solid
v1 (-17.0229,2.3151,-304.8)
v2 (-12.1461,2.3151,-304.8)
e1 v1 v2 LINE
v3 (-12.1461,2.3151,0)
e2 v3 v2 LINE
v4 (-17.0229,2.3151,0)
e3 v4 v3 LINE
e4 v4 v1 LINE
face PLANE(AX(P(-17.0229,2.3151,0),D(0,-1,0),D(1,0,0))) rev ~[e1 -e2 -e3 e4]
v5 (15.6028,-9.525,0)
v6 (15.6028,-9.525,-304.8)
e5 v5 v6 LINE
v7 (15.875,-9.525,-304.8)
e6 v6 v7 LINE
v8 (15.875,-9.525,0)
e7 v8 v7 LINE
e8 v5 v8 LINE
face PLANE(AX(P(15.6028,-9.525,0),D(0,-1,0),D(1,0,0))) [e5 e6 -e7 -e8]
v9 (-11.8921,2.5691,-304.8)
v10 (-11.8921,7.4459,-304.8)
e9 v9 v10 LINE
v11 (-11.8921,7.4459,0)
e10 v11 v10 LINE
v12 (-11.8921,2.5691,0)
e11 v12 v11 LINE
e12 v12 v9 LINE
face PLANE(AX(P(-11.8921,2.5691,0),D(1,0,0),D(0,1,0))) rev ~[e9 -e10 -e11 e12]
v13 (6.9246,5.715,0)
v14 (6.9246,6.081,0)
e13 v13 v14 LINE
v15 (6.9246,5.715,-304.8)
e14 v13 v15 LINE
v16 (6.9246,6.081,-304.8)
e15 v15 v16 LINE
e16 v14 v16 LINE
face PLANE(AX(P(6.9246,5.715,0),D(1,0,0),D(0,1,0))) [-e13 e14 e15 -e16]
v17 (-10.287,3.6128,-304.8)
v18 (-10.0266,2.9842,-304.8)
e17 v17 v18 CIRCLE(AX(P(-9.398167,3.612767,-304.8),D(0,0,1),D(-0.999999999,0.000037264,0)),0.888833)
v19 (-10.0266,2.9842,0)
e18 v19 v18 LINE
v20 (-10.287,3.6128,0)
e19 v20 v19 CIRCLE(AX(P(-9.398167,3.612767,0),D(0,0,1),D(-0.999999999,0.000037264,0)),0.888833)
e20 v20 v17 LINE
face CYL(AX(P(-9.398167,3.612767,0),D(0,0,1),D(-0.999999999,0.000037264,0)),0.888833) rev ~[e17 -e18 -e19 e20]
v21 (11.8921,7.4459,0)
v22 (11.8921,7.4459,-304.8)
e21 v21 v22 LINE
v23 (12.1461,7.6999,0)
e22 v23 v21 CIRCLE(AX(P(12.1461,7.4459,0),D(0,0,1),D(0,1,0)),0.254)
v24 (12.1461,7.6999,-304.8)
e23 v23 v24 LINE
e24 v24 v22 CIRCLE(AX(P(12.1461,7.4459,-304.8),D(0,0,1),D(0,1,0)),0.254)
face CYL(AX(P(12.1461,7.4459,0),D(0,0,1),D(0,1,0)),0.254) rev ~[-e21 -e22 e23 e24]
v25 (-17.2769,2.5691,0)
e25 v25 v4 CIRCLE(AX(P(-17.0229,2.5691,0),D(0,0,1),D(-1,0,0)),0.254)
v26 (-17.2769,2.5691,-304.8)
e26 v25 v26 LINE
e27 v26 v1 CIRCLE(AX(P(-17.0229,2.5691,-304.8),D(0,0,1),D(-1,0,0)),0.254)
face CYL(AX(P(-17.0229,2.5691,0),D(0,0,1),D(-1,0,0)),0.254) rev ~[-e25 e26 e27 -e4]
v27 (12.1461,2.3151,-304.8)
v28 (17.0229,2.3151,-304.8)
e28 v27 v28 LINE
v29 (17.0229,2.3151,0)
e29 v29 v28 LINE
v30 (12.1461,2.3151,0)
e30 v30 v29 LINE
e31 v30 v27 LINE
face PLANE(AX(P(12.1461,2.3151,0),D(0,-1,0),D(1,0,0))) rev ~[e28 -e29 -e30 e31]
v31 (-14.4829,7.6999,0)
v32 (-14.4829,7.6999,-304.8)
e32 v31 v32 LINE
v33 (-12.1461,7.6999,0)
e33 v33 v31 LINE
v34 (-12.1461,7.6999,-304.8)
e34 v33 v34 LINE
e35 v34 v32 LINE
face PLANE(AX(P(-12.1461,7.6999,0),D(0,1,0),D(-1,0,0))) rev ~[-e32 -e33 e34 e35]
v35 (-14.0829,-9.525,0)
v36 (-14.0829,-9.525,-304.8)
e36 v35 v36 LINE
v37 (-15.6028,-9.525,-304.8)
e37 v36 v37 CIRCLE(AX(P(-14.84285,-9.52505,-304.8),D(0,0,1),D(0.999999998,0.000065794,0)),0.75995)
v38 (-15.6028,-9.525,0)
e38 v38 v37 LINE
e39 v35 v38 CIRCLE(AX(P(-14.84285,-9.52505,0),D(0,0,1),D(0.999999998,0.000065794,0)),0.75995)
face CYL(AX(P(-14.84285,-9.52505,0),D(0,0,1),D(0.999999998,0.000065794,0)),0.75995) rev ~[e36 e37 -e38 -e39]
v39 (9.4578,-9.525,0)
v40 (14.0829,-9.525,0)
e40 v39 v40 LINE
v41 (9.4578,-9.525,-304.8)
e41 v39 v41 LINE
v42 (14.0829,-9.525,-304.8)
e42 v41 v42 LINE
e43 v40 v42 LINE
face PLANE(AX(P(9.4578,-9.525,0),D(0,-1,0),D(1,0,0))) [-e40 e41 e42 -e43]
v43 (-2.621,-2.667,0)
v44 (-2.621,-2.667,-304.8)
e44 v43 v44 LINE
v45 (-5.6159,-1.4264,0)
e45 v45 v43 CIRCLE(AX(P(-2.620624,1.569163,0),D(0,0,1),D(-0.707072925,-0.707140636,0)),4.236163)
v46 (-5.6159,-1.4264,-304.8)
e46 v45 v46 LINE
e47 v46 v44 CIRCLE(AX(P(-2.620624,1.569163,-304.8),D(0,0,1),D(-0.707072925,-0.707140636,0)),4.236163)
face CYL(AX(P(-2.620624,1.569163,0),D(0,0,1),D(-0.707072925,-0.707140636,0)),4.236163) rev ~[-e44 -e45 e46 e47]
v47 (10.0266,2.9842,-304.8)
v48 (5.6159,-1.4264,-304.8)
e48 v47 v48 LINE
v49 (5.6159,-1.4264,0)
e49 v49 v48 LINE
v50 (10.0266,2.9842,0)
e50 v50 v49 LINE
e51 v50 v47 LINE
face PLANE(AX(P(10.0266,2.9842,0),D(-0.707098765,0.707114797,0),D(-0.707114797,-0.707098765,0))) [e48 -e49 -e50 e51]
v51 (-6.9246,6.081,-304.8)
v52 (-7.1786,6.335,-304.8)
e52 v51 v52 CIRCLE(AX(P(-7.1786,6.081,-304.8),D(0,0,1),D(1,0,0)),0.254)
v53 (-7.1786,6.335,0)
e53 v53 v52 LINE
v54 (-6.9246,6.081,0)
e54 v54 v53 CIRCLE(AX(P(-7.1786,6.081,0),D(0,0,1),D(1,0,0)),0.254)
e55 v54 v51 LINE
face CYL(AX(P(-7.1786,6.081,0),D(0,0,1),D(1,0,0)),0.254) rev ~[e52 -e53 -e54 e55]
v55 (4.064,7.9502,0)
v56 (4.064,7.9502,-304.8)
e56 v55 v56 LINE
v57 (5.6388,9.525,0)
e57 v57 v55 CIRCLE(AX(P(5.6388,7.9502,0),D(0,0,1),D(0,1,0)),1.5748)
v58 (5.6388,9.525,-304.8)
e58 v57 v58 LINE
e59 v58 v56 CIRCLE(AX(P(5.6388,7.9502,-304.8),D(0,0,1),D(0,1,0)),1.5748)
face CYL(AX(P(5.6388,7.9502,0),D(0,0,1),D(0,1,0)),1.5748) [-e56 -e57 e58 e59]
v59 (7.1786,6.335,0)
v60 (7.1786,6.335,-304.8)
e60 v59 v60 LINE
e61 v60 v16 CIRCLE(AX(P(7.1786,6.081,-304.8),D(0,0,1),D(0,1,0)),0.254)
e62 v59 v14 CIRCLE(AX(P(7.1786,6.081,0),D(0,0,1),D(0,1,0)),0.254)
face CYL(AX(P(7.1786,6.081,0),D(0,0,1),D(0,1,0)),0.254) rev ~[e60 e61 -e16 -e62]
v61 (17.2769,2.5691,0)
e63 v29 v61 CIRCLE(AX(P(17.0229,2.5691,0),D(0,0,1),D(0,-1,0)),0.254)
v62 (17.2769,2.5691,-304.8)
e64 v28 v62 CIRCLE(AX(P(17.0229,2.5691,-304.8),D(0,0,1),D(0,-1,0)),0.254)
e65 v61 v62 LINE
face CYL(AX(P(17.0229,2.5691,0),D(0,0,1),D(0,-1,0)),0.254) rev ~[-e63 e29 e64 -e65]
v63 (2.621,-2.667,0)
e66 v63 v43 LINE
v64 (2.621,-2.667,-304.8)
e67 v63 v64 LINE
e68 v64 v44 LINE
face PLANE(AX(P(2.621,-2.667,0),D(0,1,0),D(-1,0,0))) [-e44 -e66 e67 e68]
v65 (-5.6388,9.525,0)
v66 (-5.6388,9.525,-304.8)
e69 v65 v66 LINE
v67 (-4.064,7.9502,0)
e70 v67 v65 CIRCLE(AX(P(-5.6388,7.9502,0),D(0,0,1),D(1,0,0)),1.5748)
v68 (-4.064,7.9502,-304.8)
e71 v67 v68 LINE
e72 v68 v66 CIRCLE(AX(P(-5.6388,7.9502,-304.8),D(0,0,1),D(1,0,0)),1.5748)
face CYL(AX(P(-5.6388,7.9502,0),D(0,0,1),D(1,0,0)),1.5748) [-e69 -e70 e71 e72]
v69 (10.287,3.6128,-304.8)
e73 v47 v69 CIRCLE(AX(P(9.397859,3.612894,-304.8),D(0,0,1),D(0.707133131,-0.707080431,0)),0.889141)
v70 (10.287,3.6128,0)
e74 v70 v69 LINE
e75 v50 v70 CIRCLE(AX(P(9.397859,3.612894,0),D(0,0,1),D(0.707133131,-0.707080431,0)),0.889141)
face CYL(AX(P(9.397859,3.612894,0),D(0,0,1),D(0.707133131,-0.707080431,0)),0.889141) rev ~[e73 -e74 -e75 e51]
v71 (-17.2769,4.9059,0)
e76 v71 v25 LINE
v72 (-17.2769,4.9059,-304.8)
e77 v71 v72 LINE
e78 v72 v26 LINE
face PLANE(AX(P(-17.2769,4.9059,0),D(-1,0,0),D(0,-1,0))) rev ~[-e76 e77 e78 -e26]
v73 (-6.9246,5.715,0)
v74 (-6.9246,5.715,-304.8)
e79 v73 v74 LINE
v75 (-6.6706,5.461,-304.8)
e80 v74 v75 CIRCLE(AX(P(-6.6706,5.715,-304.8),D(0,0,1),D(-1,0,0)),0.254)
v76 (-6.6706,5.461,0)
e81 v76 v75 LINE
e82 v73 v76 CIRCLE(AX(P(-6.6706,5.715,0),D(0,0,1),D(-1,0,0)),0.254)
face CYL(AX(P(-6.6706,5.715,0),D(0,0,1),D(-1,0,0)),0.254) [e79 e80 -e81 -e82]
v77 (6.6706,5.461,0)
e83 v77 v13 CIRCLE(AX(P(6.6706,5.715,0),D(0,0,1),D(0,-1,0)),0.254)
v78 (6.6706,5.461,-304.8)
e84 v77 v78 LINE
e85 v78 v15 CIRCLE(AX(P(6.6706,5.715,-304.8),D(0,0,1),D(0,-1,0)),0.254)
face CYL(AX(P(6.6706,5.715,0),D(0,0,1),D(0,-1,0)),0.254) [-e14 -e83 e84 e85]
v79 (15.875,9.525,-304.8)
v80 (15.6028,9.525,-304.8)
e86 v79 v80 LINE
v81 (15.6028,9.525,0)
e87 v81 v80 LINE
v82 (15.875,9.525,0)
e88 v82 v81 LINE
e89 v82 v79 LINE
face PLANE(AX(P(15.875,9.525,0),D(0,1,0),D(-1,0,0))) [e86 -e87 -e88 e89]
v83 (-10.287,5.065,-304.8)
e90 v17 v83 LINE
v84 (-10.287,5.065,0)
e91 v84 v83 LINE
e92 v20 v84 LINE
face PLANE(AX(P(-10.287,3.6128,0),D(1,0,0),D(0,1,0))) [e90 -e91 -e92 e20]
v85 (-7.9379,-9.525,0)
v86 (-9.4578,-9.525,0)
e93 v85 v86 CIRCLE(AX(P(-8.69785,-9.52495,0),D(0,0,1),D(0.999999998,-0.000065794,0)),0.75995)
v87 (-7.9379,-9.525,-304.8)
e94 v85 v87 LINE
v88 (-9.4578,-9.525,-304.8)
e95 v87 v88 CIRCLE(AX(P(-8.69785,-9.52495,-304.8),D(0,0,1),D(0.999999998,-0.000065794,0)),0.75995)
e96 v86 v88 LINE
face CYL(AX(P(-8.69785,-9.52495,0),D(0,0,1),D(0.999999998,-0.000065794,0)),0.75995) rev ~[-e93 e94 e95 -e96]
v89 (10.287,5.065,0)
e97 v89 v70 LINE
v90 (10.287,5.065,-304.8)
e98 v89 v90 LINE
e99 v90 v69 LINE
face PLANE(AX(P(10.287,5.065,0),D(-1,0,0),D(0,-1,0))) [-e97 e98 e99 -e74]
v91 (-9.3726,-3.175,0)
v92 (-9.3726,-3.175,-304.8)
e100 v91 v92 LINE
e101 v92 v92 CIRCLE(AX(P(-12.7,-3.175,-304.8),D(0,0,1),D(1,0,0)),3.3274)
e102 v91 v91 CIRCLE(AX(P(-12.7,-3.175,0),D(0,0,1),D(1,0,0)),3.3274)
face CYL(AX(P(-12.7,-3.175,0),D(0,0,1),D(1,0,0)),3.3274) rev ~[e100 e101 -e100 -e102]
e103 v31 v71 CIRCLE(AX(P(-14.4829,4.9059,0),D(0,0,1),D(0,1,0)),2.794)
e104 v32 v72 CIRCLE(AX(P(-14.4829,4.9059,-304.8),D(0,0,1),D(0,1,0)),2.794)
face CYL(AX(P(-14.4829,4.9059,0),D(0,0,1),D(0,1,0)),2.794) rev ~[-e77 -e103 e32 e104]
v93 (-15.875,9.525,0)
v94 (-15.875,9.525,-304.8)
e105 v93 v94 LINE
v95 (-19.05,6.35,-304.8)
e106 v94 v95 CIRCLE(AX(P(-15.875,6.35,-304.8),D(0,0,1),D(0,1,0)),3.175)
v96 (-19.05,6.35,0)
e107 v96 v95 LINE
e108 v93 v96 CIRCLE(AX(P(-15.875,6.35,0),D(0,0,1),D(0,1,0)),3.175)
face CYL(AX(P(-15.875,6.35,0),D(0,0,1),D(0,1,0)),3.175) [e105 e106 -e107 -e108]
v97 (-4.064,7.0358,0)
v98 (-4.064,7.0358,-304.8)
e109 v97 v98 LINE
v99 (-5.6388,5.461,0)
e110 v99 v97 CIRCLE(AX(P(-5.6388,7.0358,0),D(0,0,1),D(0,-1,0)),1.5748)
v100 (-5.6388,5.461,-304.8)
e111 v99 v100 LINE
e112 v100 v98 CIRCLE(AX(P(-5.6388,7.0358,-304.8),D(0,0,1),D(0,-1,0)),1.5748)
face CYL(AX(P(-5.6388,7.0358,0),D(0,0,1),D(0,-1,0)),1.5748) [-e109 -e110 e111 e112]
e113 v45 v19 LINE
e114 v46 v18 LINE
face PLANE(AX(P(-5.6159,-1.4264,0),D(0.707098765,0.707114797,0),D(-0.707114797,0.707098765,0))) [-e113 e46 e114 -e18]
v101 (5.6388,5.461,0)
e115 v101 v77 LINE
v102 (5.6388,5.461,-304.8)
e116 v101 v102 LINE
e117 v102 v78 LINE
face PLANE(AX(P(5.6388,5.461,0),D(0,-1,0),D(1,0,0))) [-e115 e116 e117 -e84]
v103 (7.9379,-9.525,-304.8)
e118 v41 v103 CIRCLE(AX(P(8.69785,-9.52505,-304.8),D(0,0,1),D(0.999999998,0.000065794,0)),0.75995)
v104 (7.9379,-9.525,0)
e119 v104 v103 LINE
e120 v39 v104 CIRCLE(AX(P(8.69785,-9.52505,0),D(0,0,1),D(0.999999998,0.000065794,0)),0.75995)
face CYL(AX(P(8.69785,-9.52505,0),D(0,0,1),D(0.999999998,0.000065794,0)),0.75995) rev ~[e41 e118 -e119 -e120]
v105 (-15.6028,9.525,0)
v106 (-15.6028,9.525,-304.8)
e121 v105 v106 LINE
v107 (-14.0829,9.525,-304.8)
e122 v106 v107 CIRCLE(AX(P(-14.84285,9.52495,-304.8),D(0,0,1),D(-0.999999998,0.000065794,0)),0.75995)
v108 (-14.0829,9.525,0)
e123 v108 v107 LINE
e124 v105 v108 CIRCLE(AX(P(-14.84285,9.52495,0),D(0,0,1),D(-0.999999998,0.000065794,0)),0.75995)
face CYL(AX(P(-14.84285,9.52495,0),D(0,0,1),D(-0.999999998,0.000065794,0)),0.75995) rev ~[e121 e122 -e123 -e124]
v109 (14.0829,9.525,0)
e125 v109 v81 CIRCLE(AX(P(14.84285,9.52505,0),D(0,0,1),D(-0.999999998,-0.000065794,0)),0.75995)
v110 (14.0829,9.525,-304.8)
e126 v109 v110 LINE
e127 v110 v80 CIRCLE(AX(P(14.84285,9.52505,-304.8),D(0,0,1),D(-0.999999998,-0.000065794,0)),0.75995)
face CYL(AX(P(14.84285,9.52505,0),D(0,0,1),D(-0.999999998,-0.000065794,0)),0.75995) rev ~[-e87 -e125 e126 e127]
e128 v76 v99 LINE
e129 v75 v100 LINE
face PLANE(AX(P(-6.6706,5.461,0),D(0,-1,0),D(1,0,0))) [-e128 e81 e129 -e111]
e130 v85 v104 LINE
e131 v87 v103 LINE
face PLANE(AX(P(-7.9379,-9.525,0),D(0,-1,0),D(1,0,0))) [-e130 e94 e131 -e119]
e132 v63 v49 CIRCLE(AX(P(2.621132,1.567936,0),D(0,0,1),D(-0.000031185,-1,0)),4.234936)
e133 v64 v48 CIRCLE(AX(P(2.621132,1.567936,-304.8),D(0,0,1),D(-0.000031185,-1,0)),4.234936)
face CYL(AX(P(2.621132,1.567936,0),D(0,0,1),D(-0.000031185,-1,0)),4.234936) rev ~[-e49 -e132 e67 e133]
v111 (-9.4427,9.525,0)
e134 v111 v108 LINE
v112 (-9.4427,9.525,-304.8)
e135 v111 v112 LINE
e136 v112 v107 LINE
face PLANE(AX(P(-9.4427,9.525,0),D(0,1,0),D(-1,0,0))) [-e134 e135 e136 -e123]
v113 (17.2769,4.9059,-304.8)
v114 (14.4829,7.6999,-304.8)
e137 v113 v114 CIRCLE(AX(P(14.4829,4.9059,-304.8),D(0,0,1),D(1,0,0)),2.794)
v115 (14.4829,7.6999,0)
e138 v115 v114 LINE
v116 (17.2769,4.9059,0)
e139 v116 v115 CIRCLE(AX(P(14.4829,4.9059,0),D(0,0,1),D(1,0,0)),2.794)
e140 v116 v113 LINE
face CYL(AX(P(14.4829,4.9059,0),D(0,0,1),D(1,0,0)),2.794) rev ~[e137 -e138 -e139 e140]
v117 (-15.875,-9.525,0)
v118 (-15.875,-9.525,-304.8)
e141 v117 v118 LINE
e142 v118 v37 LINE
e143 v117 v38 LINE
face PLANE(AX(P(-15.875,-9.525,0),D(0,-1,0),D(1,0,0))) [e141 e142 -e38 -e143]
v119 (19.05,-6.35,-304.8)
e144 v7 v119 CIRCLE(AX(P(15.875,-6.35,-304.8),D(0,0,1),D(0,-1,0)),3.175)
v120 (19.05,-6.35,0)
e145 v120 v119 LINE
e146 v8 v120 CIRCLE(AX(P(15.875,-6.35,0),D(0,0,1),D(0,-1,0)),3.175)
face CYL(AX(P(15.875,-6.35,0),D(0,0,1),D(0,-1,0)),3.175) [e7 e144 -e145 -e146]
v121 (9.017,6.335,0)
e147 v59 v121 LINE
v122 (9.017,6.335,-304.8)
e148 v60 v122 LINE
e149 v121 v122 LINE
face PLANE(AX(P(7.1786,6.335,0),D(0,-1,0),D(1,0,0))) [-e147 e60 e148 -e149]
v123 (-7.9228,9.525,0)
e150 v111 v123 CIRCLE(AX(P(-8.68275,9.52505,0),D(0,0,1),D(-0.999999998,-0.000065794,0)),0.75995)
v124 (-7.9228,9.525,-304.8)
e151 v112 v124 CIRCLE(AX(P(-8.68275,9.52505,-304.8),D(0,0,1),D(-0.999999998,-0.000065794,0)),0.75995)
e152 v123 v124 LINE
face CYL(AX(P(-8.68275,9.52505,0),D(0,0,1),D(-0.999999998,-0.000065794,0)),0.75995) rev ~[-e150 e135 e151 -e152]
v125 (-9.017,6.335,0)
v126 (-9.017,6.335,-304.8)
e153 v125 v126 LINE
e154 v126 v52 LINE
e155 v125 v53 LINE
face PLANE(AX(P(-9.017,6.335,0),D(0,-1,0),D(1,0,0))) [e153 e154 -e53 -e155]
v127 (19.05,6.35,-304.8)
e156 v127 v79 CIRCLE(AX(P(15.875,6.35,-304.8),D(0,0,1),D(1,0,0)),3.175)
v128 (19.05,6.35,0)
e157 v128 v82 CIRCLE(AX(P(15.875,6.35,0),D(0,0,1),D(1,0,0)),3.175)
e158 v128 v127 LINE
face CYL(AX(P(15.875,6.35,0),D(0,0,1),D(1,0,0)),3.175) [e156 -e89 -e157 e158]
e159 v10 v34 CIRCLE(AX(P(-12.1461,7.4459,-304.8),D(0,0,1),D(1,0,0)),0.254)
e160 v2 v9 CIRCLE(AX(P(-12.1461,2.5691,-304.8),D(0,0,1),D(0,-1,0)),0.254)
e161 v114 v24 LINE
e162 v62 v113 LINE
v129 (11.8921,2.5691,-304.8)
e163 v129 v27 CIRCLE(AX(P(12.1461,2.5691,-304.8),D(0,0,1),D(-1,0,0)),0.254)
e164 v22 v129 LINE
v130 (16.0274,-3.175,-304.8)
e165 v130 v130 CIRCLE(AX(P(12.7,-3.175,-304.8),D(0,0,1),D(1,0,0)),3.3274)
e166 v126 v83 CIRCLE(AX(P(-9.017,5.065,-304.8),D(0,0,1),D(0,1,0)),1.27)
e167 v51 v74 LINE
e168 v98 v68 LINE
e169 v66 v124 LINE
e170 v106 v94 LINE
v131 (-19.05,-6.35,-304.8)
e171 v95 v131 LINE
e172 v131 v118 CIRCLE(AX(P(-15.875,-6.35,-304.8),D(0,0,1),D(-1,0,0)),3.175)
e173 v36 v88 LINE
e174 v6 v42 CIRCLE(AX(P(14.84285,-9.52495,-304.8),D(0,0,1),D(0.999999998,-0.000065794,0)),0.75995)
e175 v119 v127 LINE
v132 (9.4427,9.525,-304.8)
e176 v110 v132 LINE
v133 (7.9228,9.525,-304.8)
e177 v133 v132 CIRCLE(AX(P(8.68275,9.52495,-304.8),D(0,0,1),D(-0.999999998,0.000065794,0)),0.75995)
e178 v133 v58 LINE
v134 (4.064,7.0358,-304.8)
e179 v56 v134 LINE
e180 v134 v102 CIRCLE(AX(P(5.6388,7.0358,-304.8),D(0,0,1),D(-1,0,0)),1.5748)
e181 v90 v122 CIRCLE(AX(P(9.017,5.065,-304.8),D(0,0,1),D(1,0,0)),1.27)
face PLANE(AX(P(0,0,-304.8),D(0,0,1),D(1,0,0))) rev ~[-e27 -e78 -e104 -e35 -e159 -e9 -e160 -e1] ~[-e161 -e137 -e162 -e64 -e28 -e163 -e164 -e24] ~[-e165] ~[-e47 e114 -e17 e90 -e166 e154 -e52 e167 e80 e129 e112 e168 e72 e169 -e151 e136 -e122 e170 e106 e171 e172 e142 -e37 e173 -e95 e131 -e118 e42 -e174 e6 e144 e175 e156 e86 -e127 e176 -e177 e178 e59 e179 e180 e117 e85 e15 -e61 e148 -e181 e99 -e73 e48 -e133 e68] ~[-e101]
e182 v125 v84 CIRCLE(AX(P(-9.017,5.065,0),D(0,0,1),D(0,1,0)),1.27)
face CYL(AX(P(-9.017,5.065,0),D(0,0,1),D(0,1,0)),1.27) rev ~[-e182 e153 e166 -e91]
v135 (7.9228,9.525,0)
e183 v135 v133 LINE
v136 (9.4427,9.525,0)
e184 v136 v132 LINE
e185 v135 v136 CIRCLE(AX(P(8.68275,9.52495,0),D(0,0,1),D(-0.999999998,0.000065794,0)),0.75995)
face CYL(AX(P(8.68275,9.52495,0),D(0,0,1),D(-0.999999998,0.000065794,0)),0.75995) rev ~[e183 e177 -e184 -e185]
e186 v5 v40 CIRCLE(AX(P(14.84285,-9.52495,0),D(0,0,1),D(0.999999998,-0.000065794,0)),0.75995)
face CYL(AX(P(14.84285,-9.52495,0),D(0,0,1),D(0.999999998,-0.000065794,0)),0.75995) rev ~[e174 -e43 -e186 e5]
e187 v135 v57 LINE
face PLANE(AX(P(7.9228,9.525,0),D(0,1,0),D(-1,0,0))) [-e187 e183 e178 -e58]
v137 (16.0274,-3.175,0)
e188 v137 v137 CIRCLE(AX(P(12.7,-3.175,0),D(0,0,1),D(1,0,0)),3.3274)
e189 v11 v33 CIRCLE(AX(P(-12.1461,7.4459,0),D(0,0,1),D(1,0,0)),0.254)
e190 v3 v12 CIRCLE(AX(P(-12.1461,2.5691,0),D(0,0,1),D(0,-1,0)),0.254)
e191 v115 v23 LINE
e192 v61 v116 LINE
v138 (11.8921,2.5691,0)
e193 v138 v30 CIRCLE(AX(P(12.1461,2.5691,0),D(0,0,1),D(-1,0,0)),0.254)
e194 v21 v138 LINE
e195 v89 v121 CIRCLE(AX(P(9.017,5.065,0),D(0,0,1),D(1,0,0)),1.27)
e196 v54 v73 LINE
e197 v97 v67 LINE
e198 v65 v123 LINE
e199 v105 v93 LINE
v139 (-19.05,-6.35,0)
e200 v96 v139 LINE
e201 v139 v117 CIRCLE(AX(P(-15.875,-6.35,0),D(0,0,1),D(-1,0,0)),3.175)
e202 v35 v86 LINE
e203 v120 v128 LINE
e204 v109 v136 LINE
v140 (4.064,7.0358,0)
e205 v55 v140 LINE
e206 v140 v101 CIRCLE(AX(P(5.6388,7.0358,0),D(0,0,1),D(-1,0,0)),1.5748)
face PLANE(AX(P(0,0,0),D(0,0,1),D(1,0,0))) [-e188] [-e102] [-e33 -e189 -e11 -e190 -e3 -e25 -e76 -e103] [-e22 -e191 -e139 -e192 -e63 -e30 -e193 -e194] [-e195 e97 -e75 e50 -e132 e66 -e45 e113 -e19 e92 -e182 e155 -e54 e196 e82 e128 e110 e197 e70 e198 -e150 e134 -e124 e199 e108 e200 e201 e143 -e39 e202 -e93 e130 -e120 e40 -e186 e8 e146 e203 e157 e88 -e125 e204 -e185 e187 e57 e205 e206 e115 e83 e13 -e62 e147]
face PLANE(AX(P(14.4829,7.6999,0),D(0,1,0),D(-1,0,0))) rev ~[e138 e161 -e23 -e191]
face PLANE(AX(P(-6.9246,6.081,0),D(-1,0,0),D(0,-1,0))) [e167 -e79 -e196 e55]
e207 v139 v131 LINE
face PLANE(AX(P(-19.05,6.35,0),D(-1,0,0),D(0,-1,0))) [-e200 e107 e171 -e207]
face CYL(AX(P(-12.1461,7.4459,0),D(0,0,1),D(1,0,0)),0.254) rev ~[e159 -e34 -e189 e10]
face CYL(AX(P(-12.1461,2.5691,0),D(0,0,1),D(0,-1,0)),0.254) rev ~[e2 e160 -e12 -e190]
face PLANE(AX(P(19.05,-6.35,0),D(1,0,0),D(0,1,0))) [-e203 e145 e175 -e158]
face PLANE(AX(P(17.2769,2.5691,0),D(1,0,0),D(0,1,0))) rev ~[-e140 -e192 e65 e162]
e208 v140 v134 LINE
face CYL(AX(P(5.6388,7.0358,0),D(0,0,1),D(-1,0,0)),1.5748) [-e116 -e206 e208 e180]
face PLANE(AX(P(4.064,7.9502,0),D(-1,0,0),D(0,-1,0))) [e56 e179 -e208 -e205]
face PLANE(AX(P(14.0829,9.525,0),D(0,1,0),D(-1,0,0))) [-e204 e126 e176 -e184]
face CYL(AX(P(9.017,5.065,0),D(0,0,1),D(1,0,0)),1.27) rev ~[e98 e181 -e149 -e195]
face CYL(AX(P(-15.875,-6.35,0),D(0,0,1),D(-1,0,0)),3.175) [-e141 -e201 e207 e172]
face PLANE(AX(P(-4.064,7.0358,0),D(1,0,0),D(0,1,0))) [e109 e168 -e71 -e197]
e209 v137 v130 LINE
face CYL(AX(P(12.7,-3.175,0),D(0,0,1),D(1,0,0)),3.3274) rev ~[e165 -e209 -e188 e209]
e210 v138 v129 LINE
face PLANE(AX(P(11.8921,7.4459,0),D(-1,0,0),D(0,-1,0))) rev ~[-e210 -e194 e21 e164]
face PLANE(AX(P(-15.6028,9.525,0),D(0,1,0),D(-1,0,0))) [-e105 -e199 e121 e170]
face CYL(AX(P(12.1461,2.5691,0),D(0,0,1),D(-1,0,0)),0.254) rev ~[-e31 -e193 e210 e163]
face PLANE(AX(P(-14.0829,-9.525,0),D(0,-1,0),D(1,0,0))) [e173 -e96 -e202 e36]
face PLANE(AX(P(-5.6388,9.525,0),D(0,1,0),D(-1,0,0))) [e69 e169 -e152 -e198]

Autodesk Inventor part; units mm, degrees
ref_plane "YZ Plane" through (0, 0, 0) normal (1, 0, 0) x (0, 1, 0)
ref_plane "XZ Plane" through (0, 0, 0) normal (0, 1, 0) x (-1, 0, 0)
ref_plane "XY Plane" through (0, 0, 0) normal (0, 0, 1) x (1, 0, 0)
sketch "Sketch1" plane through (0, 0, 0) normal (0, 0, 1) x (1, 0, 0)
  circle A0 centre (12.7, -3.175) radius 3.3274
  arc A1 (-12.1461, 2.3151) -> (-11.8921, 2.5691) centre (-12.1461, 2.5691) ccw
  line L0 (-17.0229, 2.3151) -> (-12.1461, 2.3151)
  arc A2 (-17.2769, 2.5691) -> (-17.0229, 2.3151) centre (-17.0229, 2.5691) ccw
  line L1 (-17.2769, 4.9059) -> (-17.2769, 2.5691)
  arc A3 (-14.4829, 7.6999) -> (-17.2769, 4.9059) centre (-14.4829, 4.9059) ccw
  line L2 (-12.1461, 7.6999) -> (-14.4829, 7.6999)
  arc A4 (-11.8921, 7.4459) -> (-12.1461, 7.6999) centre (-12.1461, 7.4459) ccw
  line L3 (-11.8921, 2.5691) -> (-11.8921, 7.4459)
  circle A5 centre (-12.7, -3.175) radius 3.3274
  arc A6 (12.1461, 7.6999) -> (11.8921, 7.4459) centre (12.1461, 7.4459) ccw
  line L4 (14.4829, 7.6999) -> (12.1461, 7.6999)
  arc A7 (17.2769, 4.9059) -> (14.4829, 7.6999) centre (14.4829, 4.9059) ccw
  line L5 (17.2769, 2.5691) -> (17.2769, 4.9059)
  arc A8 (17.0229, 2.3151) -> (17.2769, 2.5691) centre (17.0229, 2.5691) ccw
  line L6 (12.1461, 2.3151) -> (17.0229, 2.3151)
  arc A9 (11.8921, 2.5691) -> (12.1461, 2.3151) centre (12.1461, 2.5691) ccw
  line L7 (11.8921, 7.4459) -> (11.8921, 2.5691)
  line L8 (-9.4427, 9.525) -> (-14.0829, 9.525)
  arc A10 (-15.6028, 9.525) -> (-14.0829, 9.525) centre (-14.8428, 9.525) ccw
  line L9 (-15.6028, 9.525) -> (-15.875, 9.525)
  arc A11 (-15.875, 9.525) -> (-19.05, 6.35) centre (-15.875, 6.35) ccw
  line L10 (-19.05, 6.35) -> (-19.05, -6.35)
  arc A12 (-19.05, -6.35) -> (-15.875, -9.525) centre (-15.875, -6.35) ccw
  line L11 (-15.875, -9.525) -> (-15.6028, -9.525)
  arc A13 (-14.0829, -9.525) -> (-15.6028, -9.525) centre (-14.8428, -9.525) ccw
  line L12 (-14.0829, -9.525) -> (-9.4578, -9.525)
  arc A14 (-7.9379, -9.525) -> (-9.4578, -9.525) centre (-8.6979, -9.525) ccw
  line L13 (-7.9379, -9.525) -> (7.9379, -9.525)
  arc A15 (9.4578, -9.525) -> (7.9379, -9.525) centre (8.6979, -9.525) ccw
  line L14 (9.4578, -9.525) -> (14.0829, -9.525)
  arc A16 (15.6028, -9.525) -> (14.0829, -9.525) centre (14.8428, -9.525) ccw
  line L15 (15.6028, -9.525) -> (15.875, -9.525)
  arc A17 (15.875, -9.525) -> (19.05, -6.35) centre (15.875, -6.35) ccw
  line L16 (19.05, -6.35) -> (19.05, 6.35)
  arc A18 (19.05, 6.35) -> (15.875, 9.525) centre (15.875, 6.35) ccw
  line L17 (15.875, 9.525) -> (15.6028, 9.525)
  arc A19 (14.0829, 9.525) -> (15.6028, 9.525) centre (14.8428, 9.525) ccw
  line L18 (14.0829, 9.525) -> (9.4427, 9.525)
  arc A20 (7.9228, 9.525) -> (9.4427, 9.525) centre (8.6828, 9.525) ccw
  line L19 (7.9228, 9.525) -> (5.6388, 9.525)
  arc A21 (5.6388, 9.525) -> (4.064, 7.9502) centre (5.6388, 7.9502) ccw
  line L20 (4.064, 7.9502) -> (4.064, 7.0358)
  arc A22 (4.064, 7.0358) -> (5.6388, 5.461) centre (5.6388, 7.0358) ccw
  line L21 (5.6388, 5.461) -> (6.6706, 5.461)
  arc A23 (6.6706, 5.461) -> (6.9246, 5.715) centre (6.6706, 5.715) ccw
  line L22 (6.9246, 5.715) -> (6.9246, 6.081)
  arc A24 (7.1786, 6.335) -> (6.9246, 6.081) centre (7.1786, 6.081) ccw
  line L23 (7.1786, 6.335) -> (9.017, 6.335)
  arc A25 (10.287, 5.065) -> (9.017, 6.335) centre (9.017, 5.065) ccw
  line L24 (10.287, 5.065) -> (10.287, 3.6128)
  arc A26 (10.0266, 2.9842) -> (10.287, 3.6128) centre (9.398, 3.6128) ccw
  line L25 (10.0266, 2.9842) -> (5.6159, -1.4264)
  arc A27 (2.621, -2.667) -> (5.6159, -1.4264) centre (2.621, 1.5686) ccw
  line L26 (2.621, -2.667) -> (-2.621, -2.667)
  arc A28 (-5.6159, -1.4264) -> (-2.621, -2.667) centre (-2.621, 1.5686) ccw
  line L27 (-5.6159, -1.4264) -> (-10.0266, 2.9842)
  arc A29 (-10.287, 3.6128) -> (-10.0266, 2.9842) centre (-9.398, 3.6128) ccw
  line L28 (-10.287, 3.6128) -> (-10.287, 5.065)
  arc A30 (-9.017, 6.335) -> (-10.287, 5.065) centre (-9.017, 5.065) ccw
  line L29 (-9.017, 6.335) -> (-7.1786, 6.335)
  arc A31 (-6.9246, 6.081) -> (-7.1786, 6.335) centre (-7.1786, 6.081) ccw
  line L30 (-6.9246, 6.081) -> (-6.9246, 5.715)
  arc A32 (-6.9246, 5.715) -> (-6.6706, 5.461) centre (-6.6706, 5.715) ccw
  line L31 (-6.6706, 5.461) -> (-5.6388, 5.461)
  arc A33 (-5.6388, 5.461) -> (-4.064, 7.0358) centre (-5.6388, 7.0358) ccw
  line L32 (-4.064, 7.0358) -> (-4.064, 7.9502)
  arc A34 (-4.064, 7.9502) -> (-5.6388, 9.525) centre (-5.6388, 7.9502) ccw
  line L33 (-5.6388, 9.525) -> (-7.9228, 9.525)
  arc A35 (-9.4427, 9.525) -> (-7.9228, 9.525) centre (-8.6828, 9.525) ccw
  point P0 (0, 0)
extrude "Extrusion1" add sketch "Sketch1" against normal blind 304.8
properties part number "1534-LITE"
